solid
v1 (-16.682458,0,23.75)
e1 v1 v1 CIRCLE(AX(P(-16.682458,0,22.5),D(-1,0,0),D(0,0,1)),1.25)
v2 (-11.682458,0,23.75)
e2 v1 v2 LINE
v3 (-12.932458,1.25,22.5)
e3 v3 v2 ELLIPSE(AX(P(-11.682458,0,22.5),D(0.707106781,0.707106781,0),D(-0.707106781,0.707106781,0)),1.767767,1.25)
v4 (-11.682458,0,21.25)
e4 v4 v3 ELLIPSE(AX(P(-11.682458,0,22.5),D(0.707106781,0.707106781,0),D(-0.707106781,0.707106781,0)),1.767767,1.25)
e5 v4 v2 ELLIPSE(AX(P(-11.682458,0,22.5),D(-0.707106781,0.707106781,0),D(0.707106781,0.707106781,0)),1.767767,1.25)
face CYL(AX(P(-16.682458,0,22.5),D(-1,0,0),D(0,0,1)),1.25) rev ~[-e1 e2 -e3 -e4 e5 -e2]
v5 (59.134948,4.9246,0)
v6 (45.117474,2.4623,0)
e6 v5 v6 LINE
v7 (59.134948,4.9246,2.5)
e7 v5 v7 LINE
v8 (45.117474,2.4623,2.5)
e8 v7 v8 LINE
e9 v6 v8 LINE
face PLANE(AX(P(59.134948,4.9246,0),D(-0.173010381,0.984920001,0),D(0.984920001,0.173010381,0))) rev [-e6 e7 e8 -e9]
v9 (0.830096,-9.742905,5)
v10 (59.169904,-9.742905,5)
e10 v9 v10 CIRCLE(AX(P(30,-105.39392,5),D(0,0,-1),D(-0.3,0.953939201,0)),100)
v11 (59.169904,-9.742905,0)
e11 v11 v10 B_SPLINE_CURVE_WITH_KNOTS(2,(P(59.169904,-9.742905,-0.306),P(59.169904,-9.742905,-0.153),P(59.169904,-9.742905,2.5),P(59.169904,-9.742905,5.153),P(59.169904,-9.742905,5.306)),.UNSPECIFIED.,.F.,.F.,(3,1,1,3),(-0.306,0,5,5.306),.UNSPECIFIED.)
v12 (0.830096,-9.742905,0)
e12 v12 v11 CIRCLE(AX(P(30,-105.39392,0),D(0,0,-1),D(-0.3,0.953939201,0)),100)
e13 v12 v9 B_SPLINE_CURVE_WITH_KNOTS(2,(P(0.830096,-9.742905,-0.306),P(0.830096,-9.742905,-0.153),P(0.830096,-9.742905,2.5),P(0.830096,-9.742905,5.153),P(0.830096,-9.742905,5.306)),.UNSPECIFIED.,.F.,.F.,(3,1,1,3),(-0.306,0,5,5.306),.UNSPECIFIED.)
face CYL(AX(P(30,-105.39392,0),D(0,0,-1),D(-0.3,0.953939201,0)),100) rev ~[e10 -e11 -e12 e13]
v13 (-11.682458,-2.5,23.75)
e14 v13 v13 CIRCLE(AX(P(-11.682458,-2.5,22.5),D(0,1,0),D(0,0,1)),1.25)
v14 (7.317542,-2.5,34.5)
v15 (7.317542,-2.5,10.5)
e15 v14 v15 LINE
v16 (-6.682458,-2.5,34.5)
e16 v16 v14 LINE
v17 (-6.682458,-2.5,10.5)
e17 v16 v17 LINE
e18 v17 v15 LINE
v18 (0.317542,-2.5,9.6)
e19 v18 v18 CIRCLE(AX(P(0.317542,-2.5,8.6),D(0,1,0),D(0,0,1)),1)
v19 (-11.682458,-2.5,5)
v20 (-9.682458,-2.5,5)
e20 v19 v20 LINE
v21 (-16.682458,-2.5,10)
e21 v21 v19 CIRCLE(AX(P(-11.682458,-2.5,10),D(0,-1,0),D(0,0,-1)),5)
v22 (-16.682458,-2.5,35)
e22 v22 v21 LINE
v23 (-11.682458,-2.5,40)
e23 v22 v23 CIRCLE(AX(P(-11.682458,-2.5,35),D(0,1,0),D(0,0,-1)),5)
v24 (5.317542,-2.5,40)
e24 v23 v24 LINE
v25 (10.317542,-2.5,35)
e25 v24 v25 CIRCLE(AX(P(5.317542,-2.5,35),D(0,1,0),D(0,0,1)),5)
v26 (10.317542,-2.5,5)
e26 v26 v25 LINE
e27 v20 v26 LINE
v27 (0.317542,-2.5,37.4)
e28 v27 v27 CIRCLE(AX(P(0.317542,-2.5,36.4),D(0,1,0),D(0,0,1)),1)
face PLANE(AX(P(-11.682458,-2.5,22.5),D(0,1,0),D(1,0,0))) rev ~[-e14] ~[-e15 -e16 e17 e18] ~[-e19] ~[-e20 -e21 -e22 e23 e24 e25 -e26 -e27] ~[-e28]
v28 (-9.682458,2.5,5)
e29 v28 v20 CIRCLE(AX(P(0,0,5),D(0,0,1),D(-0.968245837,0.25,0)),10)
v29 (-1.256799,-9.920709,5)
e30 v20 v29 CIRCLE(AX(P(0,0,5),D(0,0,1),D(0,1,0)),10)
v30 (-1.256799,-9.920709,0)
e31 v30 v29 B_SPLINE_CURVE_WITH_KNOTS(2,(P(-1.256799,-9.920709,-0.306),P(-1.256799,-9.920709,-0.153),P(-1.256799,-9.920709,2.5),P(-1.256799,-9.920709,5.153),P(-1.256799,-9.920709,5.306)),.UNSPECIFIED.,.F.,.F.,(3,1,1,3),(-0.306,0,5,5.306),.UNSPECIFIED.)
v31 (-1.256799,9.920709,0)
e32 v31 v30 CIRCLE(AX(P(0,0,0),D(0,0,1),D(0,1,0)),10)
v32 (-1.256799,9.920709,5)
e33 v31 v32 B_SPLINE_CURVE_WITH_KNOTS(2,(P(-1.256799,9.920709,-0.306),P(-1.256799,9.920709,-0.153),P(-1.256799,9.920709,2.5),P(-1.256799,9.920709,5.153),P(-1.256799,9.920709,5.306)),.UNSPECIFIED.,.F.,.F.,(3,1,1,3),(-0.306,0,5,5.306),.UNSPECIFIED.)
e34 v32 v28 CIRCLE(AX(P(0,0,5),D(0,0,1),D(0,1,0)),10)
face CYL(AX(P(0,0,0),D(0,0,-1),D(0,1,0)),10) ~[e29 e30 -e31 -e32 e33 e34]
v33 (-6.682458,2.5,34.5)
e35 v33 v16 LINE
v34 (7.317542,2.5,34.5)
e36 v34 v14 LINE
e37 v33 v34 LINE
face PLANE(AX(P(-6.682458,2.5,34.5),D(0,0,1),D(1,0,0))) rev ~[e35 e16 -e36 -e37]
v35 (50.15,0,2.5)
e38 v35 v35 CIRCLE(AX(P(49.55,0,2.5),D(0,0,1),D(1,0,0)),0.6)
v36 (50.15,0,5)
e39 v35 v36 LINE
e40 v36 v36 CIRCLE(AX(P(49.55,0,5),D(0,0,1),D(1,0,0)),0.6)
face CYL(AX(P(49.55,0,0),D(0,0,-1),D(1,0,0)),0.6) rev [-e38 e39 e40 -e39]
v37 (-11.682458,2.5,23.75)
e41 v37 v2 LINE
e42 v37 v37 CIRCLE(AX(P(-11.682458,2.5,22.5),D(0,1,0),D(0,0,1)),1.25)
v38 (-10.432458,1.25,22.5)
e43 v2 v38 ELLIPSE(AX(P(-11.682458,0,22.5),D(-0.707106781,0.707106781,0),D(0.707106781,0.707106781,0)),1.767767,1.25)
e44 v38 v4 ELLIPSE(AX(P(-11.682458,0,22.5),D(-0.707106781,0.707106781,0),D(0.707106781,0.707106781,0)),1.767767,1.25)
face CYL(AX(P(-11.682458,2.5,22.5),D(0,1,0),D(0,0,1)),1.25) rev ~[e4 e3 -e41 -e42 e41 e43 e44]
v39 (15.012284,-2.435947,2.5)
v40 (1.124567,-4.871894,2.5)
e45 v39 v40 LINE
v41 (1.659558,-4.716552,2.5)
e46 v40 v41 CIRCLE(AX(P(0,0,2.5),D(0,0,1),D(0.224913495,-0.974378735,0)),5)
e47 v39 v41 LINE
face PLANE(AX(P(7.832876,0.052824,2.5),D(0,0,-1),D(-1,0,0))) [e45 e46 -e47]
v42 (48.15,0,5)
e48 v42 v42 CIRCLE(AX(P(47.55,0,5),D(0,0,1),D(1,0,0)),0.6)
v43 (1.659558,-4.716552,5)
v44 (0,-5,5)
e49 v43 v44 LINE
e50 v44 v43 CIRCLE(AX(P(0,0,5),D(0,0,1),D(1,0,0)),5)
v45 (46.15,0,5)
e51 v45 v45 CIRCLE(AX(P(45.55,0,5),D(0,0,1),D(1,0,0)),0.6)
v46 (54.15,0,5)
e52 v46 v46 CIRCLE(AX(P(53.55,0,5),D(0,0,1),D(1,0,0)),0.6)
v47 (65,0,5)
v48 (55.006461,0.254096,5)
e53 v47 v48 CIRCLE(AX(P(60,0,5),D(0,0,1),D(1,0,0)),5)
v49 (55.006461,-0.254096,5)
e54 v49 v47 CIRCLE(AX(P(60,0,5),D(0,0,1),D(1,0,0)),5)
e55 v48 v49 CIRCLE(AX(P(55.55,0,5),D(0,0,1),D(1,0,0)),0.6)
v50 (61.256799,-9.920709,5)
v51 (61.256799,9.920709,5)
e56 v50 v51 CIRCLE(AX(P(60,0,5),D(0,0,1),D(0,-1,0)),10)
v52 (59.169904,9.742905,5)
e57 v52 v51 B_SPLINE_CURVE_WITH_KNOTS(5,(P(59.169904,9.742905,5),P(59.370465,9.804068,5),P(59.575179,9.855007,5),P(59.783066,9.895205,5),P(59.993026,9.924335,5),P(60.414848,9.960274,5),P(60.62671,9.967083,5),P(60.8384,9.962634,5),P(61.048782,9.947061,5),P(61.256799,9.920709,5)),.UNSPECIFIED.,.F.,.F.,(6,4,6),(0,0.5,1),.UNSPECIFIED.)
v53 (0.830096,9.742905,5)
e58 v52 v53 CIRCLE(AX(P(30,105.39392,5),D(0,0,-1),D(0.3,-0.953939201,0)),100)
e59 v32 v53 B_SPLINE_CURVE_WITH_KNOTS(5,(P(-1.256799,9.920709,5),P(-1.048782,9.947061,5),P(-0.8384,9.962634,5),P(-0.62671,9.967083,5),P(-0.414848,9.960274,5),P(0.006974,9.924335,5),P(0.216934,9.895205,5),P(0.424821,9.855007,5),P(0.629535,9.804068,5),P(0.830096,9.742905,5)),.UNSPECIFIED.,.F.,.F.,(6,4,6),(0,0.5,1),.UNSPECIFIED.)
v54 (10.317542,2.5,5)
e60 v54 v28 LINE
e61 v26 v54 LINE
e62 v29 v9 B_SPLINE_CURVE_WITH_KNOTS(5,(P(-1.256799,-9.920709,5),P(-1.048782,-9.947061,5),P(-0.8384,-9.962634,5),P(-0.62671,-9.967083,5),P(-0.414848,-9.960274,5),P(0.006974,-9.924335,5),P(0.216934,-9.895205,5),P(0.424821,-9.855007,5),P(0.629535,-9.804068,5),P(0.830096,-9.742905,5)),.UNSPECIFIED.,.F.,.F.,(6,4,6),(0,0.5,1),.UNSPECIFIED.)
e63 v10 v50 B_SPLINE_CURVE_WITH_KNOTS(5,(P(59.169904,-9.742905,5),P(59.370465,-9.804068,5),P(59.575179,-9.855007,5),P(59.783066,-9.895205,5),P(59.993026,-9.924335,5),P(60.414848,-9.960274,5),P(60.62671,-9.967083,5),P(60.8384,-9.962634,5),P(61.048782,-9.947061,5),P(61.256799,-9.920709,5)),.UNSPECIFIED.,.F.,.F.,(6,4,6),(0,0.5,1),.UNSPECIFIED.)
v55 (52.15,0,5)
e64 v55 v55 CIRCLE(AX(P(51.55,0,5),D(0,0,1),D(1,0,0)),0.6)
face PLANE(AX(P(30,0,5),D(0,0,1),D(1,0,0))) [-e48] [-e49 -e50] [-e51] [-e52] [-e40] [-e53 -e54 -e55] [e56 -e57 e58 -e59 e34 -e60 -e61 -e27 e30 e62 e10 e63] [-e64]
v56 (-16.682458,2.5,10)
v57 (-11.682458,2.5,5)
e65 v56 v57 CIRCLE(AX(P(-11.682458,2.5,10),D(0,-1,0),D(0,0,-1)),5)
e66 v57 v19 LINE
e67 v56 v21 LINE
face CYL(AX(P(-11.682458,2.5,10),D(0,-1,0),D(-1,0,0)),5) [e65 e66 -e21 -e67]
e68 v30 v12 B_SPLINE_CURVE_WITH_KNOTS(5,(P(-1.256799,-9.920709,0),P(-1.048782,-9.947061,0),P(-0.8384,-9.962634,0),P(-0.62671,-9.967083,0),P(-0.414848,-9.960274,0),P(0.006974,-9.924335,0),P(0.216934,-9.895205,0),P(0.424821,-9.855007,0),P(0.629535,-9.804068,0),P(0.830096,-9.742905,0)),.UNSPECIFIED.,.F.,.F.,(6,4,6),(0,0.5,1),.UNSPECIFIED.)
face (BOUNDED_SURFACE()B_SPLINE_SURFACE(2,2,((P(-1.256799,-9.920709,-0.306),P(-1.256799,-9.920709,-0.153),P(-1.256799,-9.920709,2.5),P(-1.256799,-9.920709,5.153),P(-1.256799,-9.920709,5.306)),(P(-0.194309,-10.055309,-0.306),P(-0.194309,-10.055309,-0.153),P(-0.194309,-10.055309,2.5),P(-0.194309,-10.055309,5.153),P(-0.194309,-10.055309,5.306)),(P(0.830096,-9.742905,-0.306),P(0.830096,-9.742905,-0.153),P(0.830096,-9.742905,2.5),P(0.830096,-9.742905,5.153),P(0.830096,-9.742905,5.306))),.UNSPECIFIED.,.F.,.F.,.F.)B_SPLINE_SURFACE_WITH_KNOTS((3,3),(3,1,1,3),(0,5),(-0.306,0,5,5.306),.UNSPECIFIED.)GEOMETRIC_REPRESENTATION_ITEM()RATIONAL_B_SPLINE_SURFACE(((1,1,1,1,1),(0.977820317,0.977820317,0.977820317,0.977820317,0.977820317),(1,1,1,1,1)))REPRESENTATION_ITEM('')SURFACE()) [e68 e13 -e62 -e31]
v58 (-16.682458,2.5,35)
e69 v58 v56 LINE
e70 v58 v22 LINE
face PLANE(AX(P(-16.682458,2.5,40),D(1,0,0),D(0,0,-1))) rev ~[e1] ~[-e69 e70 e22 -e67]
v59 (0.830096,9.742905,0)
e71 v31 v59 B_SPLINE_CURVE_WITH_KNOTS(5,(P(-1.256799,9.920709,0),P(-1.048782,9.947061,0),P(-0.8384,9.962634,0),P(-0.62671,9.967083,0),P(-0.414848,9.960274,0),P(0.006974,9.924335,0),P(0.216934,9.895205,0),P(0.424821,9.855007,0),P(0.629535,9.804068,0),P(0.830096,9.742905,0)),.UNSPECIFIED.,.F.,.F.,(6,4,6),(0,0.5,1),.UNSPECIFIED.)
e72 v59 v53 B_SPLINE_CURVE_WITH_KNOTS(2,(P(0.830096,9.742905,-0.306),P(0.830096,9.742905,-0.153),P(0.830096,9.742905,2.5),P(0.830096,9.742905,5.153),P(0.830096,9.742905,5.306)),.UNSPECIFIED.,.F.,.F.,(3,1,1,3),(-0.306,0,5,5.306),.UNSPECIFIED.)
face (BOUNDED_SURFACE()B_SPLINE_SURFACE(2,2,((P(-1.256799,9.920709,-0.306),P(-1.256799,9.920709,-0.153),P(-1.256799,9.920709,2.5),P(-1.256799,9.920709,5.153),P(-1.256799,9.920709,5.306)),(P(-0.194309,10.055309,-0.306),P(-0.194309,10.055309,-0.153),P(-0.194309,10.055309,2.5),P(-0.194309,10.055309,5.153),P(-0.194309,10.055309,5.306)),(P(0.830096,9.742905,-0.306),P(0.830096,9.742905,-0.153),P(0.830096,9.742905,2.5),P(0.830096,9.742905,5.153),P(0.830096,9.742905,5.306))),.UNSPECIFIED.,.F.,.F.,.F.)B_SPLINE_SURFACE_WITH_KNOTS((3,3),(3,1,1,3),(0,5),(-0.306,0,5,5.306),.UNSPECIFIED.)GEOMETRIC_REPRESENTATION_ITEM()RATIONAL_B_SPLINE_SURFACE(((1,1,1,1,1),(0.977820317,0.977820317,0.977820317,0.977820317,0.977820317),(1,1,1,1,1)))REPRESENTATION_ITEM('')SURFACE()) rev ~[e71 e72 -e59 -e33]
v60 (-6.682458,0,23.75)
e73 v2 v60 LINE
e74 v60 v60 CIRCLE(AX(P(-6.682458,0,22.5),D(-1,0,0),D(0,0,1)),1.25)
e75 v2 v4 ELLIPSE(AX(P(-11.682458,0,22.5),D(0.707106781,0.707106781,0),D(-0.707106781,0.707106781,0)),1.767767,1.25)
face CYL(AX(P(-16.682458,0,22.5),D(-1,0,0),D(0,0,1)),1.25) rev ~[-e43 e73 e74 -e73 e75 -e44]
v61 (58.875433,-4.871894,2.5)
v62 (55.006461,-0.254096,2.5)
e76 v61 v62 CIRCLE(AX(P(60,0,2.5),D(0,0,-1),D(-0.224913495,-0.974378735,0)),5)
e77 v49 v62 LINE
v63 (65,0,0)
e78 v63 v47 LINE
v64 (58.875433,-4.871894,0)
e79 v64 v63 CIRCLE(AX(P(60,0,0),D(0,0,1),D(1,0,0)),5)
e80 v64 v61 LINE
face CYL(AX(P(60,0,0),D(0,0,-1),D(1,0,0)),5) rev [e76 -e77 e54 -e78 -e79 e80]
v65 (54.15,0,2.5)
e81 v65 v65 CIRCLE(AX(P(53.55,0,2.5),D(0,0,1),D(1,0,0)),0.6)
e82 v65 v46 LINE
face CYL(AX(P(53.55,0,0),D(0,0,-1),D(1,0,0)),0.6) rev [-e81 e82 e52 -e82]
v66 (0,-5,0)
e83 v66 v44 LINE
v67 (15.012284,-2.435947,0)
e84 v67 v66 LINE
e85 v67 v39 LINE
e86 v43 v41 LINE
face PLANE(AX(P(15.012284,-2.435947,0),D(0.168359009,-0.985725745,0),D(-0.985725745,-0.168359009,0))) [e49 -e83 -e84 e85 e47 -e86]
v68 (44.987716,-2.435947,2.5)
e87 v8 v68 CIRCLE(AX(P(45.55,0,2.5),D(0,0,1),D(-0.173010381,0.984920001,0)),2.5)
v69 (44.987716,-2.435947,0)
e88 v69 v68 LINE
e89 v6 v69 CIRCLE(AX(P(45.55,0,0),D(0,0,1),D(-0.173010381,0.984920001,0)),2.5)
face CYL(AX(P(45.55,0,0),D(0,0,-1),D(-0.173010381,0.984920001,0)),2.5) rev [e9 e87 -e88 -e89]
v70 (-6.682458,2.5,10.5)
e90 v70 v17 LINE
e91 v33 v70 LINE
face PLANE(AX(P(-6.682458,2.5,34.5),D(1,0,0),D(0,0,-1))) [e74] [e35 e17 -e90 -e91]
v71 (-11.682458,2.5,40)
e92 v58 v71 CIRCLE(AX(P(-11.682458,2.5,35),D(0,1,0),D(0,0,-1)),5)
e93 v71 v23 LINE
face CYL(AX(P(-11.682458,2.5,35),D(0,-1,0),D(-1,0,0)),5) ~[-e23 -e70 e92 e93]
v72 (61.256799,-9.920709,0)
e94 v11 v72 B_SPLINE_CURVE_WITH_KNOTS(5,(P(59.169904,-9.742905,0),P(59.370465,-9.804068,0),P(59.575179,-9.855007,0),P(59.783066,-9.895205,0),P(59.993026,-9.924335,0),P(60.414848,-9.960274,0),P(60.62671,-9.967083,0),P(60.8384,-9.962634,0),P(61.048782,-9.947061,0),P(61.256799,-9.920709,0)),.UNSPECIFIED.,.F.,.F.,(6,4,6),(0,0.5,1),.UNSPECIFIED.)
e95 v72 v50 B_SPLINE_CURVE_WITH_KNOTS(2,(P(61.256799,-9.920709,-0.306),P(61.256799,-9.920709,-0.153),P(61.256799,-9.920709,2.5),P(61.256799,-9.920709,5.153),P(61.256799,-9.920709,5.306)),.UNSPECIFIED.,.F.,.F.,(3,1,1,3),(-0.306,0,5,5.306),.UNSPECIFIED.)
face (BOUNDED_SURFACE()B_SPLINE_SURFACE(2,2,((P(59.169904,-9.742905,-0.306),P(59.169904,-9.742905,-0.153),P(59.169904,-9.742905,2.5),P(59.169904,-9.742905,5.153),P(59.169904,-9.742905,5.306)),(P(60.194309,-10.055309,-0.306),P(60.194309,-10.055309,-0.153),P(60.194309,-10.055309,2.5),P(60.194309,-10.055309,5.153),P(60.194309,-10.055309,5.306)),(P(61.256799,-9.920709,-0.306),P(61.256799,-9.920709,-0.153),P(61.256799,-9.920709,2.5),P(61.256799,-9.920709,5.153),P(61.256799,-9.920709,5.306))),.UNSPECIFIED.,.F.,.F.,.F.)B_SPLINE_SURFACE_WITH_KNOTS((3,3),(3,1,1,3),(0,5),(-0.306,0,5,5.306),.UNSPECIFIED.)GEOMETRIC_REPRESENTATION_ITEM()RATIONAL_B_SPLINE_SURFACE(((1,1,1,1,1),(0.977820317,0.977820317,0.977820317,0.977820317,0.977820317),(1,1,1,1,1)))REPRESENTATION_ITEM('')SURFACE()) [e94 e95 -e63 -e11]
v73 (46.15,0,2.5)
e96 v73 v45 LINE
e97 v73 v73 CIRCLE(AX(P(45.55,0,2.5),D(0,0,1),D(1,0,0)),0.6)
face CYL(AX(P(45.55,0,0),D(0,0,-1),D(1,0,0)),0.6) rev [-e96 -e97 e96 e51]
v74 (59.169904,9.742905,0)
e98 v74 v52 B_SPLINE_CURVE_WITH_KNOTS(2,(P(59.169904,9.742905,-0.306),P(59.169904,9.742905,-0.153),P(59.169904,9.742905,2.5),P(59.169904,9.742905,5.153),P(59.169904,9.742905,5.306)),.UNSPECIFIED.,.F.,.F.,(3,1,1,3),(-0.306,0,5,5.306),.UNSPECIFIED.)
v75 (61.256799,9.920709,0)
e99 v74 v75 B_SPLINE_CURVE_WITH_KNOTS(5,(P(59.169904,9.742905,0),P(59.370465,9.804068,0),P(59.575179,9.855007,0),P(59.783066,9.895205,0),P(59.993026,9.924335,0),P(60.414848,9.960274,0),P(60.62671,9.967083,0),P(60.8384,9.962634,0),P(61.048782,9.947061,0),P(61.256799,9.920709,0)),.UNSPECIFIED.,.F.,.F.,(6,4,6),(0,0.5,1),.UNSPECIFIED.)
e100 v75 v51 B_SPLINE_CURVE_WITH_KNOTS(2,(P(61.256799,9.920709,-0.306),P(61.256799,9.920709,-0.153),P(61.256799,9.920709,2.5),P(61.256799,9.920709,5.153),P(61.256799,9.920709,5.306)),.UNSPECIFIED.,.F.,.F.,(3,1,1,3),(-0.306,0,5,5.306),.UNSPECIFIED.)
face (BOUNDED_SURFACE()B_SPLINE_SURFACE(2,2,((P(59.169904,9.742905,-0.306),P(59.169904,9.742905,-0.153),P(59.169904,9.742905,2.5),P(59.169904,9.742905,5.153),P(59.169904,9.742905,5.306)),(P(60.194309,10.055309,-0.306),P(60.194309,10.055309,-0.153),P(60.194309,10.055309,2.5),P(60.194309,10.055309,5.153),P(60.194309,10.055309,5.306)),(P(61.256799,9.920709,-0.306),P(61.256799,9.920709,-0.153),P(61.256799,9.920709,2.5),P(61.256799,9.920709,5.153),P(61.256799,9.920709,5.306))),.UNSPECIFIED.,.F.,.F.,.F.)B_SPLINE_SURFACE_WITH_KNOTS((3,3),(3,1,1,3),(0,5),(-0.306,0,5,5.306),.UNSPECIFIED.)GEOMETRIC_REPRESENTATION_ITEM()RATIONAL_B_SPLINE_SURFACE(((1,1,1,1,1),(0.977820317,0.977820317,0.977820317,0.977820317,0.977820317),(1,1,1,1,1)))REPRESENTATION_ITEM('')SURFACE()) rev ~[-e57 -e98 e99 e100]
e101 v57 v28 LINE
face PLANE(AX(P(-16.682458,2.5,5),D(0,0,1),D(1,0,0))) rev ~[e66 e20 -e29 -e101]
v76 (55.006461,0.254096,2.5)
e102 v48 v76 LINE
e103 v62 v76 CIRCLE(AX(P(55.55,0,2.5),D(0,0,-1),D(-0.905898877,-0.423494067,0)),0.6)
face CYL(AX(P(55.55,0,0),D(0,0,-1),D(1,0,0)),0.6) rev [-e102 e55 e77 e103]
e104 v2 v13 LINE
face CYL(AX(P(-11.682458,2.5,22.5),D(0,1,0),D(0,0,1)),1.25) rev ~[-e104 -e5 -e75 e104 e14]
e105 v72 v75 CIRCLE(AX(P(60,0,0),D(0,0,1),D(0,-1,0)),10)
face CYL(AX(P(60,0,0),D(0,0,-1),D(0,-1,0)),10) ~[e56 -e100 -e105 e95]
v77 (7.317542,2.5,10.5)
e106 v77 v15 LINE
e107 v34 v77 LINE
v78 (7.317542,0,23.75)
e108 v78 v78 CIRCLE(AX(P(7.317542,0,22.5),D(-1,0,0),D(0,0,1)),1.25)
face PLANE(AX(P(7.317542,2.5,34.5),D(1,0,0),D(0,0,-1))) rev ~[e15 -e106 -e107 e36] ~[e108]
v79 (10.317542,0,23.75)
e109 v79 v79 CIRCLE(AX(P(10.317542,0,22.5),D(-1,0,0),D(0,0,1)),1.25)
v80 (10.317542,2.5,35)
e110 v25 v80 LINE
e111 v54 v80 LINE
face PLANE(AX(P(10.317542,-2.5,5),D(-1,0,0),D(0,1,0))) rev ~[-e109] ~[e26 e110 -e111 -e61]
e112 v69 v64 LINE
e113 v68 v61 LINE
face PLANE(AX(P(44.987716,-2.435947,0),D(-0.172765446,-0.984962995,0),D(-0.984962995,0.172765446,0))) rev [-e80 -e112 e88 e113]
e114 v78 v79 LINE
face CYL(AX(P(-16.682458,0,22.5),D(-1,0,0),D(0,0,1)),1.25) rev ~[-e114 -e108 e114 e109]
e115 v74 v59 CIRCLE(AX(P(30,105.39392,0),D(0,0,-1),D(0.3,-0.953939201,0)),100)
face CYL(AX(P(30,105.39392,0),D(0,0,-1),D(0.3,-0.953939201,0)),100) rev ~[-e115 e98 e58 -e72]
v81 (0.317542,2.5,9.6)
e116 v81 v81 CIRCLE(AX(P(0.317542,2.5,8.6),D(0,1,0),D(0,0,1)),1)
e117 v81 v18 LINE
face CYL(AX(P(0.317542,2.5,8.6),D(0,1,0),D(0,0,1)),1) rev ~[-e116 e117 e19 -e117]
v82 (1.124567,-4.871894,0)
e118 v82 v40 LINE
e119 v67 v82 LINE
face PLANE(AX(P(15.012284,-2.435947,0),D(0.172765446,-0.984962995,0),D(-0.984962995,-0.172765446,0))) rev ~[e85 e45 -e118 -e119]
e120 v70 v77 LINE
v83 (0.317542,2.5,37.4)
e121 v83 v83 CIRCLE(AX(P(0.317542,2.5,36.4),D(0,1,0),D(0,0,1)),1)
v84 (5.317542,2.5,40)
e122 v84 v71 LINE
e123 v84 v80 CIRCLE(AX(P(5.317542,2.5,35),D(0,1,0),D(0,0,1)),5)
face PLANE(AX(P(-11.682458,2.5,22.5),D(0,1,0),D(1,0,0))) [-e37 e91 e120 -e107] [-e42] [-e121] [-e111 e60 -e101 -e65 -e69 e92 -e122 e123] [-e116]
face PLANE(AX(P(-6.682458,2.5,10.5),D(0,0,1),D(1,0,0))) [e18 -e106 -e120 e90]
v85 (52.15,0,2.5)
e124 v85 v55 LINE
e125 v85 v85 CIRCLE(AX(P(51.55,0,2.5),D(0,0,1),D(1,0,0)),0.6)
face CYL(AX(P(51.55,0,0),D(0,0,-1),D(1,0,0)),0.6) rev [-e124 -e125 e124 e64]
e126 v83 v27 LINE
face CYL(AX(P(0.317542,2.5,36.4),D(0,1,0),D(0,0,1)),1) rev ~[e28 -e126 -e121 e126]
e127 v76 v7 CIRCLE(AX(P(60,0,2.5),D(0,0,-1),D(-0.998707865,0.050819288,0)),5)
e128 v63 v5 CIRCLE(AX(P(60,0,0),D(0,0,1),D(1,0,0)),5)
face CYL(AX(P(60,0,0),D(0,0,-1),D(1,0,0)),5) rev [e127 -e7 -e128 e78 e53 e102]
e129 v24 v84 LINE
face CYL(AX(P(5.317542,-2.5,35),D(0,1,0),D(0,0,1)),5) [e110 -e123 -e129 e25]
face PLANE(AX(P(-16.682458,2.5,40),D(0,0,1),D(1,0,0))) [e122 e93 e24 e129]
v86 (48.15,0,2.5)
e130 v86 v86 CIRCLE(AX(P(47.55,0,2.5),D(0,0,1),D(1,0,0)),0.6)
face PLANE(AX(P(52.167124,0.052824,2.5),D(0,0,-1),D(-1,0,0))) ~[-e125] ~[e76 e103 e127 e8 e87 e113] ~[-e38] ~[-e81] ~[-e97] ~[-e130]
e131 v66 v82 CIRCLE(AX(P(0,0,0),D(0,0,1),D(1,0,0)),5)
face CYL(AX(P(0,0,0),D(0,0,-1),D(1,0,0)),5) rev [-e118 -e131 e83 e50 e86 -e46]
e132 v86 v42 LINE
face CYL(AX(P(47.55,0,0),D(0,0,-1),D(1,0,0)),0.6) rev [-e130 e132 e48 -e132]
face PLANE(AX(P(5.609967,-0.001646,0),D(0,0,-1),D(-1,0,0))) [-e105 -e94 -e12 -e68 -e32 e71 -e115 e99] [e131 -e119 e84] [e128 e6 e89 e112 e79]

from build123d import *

# Parameters (mm, degrees)
SKETCH1_R           = 5
BOSS_EXTRUDE1_DEPTH = 5
FILLET1_R           = 5
SKETCH2_R           = 0.6
CUT_EXTRUDE1_DEPTH  = 5
SKETCH3_R           = 0.6
CUT_EXTRUDE2_DEPTH  = 2.5
BOSS_EXTRUDE7_REACH = 72.882
BOSS_EXTRUDE8_DEPTH = 35
SKETCH13_R          = 1
SKETCH13_W          = 14
SKETCH13_H          = 24
CUT_EXTRUDE3_DEPTH  = 82.57977968
SKETCH14_W          = 10
SKETCH14_H          = 35
BOSS_EXTRUDE9_DEPTH = 5
SKETCH15_R          = 1.25
CUT_EXTRUDE4_DEPTH  = 5
SKETCH16_R          = 1.25
CUT_EXTRUDE5_DEPTH  = 96.984672029
FILLET2_R           = 5


with BuildPart() as part:
    # Sketch1 → Boss-Extrude1 (new body)
    with BuildSketch(Plane.XY):
        with BuildLine():
            ThreePointArc((0, 10), (-10, 0), (0, -10))
            ThreePointArc((0, -10), (30, -5.393920142), (60, -10))
            ThreePointArc((60, -10), (70, 0), (60, 10))
            ThreePointArc((60, 10), (30, 5.393920142), (0, 10))
        make_face()
        Circle(SKETCH1_R, mode=Mode.SUBTRACT)
        with Locations((60, 0)):
            Circle(SKETCH1_R, mode=Mode.SUBTRACT)
    extrude(amount=BOSS_EXTRUDE1_DEPTH)

    # Fillet1
    fillet1_edges = [part.edges().sort_by_distance(p)[0] for p in [
        (60, 10, 2.5),
        (60, -10, 2.5),
        (0, -10, 2.5),
        (0, 10, 2.5),
    ]]
    fillet(fillet1_edges, radius=FILLET1_R)

    # Sketch2 → Cut-Extrude1 (cut)
    with BuildSketch(Plane(origin=(0, 0, 0), x_dir=(-1, 0, 0), z_dir=(0, 0, -1))):
        with Locations((-4.45, 0)):
            Circle(SKETCH2_R)
        with Locations((-6.45, 0)):
            Circle(SKETCH2_R)
        with Locations((-8.45, 0)):
            Circle(SKETCH2_R)
        with Locations((-10.45, 0)):
            Circle(SKETCH2_R)
        with Locations((-12.45, 0)):
            Circle(SKETCH2_R)
        with Locations((-14.45, 0)):
            Circle(SKETCH2_R)
    cut_extrude1 = extrude(amount=-CUT_EXTRUDE1_DEPTH, mode=Mode.SUBTRACT)

    # Sketch3 → Cut-Extrude2 (cut)
    with BuildSketch(Plane(origin=(0, 0, 0), x_dir=(-1, 0, 0), z_dir=(0, 0, -1))):
        with BuildLine():
            Line((-15.012283737, -2.435946838), (-1.124567474, -4.871893677))
            ThreePointArc((-1.124567474, -4.871893677), (-3.832599709, -3.211102532), (-4.993539326, -0.254096441))
            ThreePointArc((-4.993539326, -0.254096441), (-5.05, 0), (-4.993539326, 0.254096441))
            ThreePointArc((-4.993539326, 0.254096441), (-3.746221254, 3.311468906), (-0.865051903, 4.924600005))
            Line((-0.865051903, 4.924600005), (-14.882525952, 2.462300002))
            ThreePointArc((-14.882525952, 2.462300002), (-16.949123268, 0.066203422), (-15.012283737, -2.435946838))
        make_face()
        with Locations((-12.45, 0)):
            Circle(SKETCH3_R, mode=Mode.SUBTRACT)
        with Locations((-6.45, 0)):
            Circle(SKETCH3_R, mode=Mode.SUBTRACT)
        with Locations((-8.45, 0)):
            Circle(SKETCH3_R, mode=Mode.SUBTRACT)
        with Locations((-10.45, 0)):
            Circle(SKETCH3_R, mode=Mode.SUBTRACT)
        with Locations((-14.45, 0)):
            Circle(SKETCH3_R, mode=Mode.SUBTRACT)
    cut_extrude2 = extrude(amount=-CUT_EXTRUDE2_DEPTH, mode=Mode.SUBTRACT)

    # Mirror2: Cut-Extrude1, Cut-Extrude2 across plane
    add(cut_extrude1.mirror(Plane(origin=(30, 0, 0), x_dir=(0, 0, 1), z_dir=(1, 0, 0))), mode=Mode.SUBTRACT)
    add(cut_extrude2.mirror(Plane(origin=(30, 0, 0), x_dir=(0, 0, 1), z_dir=(1, 0, 0))), mode=Mode.SUBTRACT)

    # Boss-Extrude7: up to this face of the body (flat: up to its plane)
    boss_extrude7_end = Plane(part.part.faces().sort_by_distance((30, 0, 5))[0])
    # Sketch11 → Boss-Extrude7 (add, up to the picked face)
    with BuildSketch(Plane(origin=(0, 0, 0), x_dir=(-1, 0, 0), z_dir=(0, 0, -1)), mode=Mode.PRIVATE) as boss_extrude7_sk1:
        with BuildLine():
            ThreePointArc((-14.882525952, 2.462300002), (-16.949123268, 0.066203422), (-15.012283737, -2.435946838))
            Line((-15.012283737, -2.435946838), (0, -5))
            ThreePointArc((0, -5), (4.981114334, 0.434165854), (-0.865051903, 4.924600005))
            Line((-0.865051903, 4.924600005), (-14.882525952, 2.462300002))
        make_face()
    boss_extrude7_tool1 = split(extrude(boss_extrude7_sk1.sketch, amount=-BOSS_EXTRUDE7_REACH, mode=Mode.PRIVATE), bisect_by=boss_extrude7_end, keep=Keep.BOTH, mode=Mode.PRIVATE)
    add(boss_extrude7_tool1.solids().sort_by(Axis((4.874327, 0.014975, 0), (0, 0, 1)))[0])

    # Sketch12 → Boss-Extrude8 (add)
    with BuildSketch(Plane.XY.offset(5)):
        with BuildLine():
            ThreePointArc((-9.682458366, 2.5), (-10, 0), (-9.682458366, -2.5))
            Line((-9.682458366, -2.5), (10.317541634, -2.5))
            Line((10.317541634, -2.5), (10.317541634, 2.5))
            Line((10.317541634, 2.5), (-9.682458366, 2.5))
        make_face()
    extrude(amount=BOSS_EXTRUDE8_DEPTH)

    # Sketch13 → Cut-Extrude3 (cut, through all)
    with BuildSketch(Plane(origin=(0, 2.5, 0), x_dir=(1, 0, 0), z_dir=(0, 1, 0))):
        with Locations(Location((0.317541634, -8.6, 0), (0, 0, 270))):
            Circle(SKETCH13_R)
        with Locations(Location((0.317541634, -36.4, 0), (0, 0, 270))):
            Circle(SKETCH13_R)
        with Locations((0.317541634, -22.5)):
            Rectangle(SKETCH13_W, SKETCH13_H)
    extrude(amount=-CUT_EXTRUDE3_DEPTH, mode=Mode.SUBTRACT)

    # Sketch14 → Boss-Extrude9 (add)
    with BuildSketch(Plane(origin=(0, 2.5, 0), x_dir=(1, 0, 0), z_dir=(0, 1, 0))):
        with Locations((-11.682458366, -22.5)):
            Rectangle(SKETCH14_W, SKETCH14_H)
    extrude(amount=-BOSS_EXTRUDE9_DEPTH)

    # Sketch15 → Cut-Extrude4 (cut)
    with BuildSketch(Plane(origin=(0, 2.5, 0), x_dir=(1, 0, 0), z_dir=(0, 1, 0))):
        with Locations(Location((-11.682458366, -22.5, 0), (0, 0, 270))):
            Circle(SKETCH15_R)
    extrude(amount=-CUT_EXTRUDE4_DEPTH, mode=Mode.SUBTRACT)

    # Sketch16 → Cut-Extrude5 (cut, through all)
    with BuildSketch(Plane.ZY.offset(16.682458366)):
        with Locations((22.5, 0)):
            Circle(SKETCH16_R)
    extrude(amount=-CUT_EXTRUDE5_DEPTH, mode=Mode.SUBTRACT)

    # Fillet2
    fillet2_edges = [part.edges().sort_by_distance(p)[0] for p in [
        (10.317541634, 0, 40),
        (-16.682458366, 0, 5),
        (-16.682458366, 0, 40),
    ]]
    fillet(fillet2_edges, radius=FILLET2_R)


solid = part.part
